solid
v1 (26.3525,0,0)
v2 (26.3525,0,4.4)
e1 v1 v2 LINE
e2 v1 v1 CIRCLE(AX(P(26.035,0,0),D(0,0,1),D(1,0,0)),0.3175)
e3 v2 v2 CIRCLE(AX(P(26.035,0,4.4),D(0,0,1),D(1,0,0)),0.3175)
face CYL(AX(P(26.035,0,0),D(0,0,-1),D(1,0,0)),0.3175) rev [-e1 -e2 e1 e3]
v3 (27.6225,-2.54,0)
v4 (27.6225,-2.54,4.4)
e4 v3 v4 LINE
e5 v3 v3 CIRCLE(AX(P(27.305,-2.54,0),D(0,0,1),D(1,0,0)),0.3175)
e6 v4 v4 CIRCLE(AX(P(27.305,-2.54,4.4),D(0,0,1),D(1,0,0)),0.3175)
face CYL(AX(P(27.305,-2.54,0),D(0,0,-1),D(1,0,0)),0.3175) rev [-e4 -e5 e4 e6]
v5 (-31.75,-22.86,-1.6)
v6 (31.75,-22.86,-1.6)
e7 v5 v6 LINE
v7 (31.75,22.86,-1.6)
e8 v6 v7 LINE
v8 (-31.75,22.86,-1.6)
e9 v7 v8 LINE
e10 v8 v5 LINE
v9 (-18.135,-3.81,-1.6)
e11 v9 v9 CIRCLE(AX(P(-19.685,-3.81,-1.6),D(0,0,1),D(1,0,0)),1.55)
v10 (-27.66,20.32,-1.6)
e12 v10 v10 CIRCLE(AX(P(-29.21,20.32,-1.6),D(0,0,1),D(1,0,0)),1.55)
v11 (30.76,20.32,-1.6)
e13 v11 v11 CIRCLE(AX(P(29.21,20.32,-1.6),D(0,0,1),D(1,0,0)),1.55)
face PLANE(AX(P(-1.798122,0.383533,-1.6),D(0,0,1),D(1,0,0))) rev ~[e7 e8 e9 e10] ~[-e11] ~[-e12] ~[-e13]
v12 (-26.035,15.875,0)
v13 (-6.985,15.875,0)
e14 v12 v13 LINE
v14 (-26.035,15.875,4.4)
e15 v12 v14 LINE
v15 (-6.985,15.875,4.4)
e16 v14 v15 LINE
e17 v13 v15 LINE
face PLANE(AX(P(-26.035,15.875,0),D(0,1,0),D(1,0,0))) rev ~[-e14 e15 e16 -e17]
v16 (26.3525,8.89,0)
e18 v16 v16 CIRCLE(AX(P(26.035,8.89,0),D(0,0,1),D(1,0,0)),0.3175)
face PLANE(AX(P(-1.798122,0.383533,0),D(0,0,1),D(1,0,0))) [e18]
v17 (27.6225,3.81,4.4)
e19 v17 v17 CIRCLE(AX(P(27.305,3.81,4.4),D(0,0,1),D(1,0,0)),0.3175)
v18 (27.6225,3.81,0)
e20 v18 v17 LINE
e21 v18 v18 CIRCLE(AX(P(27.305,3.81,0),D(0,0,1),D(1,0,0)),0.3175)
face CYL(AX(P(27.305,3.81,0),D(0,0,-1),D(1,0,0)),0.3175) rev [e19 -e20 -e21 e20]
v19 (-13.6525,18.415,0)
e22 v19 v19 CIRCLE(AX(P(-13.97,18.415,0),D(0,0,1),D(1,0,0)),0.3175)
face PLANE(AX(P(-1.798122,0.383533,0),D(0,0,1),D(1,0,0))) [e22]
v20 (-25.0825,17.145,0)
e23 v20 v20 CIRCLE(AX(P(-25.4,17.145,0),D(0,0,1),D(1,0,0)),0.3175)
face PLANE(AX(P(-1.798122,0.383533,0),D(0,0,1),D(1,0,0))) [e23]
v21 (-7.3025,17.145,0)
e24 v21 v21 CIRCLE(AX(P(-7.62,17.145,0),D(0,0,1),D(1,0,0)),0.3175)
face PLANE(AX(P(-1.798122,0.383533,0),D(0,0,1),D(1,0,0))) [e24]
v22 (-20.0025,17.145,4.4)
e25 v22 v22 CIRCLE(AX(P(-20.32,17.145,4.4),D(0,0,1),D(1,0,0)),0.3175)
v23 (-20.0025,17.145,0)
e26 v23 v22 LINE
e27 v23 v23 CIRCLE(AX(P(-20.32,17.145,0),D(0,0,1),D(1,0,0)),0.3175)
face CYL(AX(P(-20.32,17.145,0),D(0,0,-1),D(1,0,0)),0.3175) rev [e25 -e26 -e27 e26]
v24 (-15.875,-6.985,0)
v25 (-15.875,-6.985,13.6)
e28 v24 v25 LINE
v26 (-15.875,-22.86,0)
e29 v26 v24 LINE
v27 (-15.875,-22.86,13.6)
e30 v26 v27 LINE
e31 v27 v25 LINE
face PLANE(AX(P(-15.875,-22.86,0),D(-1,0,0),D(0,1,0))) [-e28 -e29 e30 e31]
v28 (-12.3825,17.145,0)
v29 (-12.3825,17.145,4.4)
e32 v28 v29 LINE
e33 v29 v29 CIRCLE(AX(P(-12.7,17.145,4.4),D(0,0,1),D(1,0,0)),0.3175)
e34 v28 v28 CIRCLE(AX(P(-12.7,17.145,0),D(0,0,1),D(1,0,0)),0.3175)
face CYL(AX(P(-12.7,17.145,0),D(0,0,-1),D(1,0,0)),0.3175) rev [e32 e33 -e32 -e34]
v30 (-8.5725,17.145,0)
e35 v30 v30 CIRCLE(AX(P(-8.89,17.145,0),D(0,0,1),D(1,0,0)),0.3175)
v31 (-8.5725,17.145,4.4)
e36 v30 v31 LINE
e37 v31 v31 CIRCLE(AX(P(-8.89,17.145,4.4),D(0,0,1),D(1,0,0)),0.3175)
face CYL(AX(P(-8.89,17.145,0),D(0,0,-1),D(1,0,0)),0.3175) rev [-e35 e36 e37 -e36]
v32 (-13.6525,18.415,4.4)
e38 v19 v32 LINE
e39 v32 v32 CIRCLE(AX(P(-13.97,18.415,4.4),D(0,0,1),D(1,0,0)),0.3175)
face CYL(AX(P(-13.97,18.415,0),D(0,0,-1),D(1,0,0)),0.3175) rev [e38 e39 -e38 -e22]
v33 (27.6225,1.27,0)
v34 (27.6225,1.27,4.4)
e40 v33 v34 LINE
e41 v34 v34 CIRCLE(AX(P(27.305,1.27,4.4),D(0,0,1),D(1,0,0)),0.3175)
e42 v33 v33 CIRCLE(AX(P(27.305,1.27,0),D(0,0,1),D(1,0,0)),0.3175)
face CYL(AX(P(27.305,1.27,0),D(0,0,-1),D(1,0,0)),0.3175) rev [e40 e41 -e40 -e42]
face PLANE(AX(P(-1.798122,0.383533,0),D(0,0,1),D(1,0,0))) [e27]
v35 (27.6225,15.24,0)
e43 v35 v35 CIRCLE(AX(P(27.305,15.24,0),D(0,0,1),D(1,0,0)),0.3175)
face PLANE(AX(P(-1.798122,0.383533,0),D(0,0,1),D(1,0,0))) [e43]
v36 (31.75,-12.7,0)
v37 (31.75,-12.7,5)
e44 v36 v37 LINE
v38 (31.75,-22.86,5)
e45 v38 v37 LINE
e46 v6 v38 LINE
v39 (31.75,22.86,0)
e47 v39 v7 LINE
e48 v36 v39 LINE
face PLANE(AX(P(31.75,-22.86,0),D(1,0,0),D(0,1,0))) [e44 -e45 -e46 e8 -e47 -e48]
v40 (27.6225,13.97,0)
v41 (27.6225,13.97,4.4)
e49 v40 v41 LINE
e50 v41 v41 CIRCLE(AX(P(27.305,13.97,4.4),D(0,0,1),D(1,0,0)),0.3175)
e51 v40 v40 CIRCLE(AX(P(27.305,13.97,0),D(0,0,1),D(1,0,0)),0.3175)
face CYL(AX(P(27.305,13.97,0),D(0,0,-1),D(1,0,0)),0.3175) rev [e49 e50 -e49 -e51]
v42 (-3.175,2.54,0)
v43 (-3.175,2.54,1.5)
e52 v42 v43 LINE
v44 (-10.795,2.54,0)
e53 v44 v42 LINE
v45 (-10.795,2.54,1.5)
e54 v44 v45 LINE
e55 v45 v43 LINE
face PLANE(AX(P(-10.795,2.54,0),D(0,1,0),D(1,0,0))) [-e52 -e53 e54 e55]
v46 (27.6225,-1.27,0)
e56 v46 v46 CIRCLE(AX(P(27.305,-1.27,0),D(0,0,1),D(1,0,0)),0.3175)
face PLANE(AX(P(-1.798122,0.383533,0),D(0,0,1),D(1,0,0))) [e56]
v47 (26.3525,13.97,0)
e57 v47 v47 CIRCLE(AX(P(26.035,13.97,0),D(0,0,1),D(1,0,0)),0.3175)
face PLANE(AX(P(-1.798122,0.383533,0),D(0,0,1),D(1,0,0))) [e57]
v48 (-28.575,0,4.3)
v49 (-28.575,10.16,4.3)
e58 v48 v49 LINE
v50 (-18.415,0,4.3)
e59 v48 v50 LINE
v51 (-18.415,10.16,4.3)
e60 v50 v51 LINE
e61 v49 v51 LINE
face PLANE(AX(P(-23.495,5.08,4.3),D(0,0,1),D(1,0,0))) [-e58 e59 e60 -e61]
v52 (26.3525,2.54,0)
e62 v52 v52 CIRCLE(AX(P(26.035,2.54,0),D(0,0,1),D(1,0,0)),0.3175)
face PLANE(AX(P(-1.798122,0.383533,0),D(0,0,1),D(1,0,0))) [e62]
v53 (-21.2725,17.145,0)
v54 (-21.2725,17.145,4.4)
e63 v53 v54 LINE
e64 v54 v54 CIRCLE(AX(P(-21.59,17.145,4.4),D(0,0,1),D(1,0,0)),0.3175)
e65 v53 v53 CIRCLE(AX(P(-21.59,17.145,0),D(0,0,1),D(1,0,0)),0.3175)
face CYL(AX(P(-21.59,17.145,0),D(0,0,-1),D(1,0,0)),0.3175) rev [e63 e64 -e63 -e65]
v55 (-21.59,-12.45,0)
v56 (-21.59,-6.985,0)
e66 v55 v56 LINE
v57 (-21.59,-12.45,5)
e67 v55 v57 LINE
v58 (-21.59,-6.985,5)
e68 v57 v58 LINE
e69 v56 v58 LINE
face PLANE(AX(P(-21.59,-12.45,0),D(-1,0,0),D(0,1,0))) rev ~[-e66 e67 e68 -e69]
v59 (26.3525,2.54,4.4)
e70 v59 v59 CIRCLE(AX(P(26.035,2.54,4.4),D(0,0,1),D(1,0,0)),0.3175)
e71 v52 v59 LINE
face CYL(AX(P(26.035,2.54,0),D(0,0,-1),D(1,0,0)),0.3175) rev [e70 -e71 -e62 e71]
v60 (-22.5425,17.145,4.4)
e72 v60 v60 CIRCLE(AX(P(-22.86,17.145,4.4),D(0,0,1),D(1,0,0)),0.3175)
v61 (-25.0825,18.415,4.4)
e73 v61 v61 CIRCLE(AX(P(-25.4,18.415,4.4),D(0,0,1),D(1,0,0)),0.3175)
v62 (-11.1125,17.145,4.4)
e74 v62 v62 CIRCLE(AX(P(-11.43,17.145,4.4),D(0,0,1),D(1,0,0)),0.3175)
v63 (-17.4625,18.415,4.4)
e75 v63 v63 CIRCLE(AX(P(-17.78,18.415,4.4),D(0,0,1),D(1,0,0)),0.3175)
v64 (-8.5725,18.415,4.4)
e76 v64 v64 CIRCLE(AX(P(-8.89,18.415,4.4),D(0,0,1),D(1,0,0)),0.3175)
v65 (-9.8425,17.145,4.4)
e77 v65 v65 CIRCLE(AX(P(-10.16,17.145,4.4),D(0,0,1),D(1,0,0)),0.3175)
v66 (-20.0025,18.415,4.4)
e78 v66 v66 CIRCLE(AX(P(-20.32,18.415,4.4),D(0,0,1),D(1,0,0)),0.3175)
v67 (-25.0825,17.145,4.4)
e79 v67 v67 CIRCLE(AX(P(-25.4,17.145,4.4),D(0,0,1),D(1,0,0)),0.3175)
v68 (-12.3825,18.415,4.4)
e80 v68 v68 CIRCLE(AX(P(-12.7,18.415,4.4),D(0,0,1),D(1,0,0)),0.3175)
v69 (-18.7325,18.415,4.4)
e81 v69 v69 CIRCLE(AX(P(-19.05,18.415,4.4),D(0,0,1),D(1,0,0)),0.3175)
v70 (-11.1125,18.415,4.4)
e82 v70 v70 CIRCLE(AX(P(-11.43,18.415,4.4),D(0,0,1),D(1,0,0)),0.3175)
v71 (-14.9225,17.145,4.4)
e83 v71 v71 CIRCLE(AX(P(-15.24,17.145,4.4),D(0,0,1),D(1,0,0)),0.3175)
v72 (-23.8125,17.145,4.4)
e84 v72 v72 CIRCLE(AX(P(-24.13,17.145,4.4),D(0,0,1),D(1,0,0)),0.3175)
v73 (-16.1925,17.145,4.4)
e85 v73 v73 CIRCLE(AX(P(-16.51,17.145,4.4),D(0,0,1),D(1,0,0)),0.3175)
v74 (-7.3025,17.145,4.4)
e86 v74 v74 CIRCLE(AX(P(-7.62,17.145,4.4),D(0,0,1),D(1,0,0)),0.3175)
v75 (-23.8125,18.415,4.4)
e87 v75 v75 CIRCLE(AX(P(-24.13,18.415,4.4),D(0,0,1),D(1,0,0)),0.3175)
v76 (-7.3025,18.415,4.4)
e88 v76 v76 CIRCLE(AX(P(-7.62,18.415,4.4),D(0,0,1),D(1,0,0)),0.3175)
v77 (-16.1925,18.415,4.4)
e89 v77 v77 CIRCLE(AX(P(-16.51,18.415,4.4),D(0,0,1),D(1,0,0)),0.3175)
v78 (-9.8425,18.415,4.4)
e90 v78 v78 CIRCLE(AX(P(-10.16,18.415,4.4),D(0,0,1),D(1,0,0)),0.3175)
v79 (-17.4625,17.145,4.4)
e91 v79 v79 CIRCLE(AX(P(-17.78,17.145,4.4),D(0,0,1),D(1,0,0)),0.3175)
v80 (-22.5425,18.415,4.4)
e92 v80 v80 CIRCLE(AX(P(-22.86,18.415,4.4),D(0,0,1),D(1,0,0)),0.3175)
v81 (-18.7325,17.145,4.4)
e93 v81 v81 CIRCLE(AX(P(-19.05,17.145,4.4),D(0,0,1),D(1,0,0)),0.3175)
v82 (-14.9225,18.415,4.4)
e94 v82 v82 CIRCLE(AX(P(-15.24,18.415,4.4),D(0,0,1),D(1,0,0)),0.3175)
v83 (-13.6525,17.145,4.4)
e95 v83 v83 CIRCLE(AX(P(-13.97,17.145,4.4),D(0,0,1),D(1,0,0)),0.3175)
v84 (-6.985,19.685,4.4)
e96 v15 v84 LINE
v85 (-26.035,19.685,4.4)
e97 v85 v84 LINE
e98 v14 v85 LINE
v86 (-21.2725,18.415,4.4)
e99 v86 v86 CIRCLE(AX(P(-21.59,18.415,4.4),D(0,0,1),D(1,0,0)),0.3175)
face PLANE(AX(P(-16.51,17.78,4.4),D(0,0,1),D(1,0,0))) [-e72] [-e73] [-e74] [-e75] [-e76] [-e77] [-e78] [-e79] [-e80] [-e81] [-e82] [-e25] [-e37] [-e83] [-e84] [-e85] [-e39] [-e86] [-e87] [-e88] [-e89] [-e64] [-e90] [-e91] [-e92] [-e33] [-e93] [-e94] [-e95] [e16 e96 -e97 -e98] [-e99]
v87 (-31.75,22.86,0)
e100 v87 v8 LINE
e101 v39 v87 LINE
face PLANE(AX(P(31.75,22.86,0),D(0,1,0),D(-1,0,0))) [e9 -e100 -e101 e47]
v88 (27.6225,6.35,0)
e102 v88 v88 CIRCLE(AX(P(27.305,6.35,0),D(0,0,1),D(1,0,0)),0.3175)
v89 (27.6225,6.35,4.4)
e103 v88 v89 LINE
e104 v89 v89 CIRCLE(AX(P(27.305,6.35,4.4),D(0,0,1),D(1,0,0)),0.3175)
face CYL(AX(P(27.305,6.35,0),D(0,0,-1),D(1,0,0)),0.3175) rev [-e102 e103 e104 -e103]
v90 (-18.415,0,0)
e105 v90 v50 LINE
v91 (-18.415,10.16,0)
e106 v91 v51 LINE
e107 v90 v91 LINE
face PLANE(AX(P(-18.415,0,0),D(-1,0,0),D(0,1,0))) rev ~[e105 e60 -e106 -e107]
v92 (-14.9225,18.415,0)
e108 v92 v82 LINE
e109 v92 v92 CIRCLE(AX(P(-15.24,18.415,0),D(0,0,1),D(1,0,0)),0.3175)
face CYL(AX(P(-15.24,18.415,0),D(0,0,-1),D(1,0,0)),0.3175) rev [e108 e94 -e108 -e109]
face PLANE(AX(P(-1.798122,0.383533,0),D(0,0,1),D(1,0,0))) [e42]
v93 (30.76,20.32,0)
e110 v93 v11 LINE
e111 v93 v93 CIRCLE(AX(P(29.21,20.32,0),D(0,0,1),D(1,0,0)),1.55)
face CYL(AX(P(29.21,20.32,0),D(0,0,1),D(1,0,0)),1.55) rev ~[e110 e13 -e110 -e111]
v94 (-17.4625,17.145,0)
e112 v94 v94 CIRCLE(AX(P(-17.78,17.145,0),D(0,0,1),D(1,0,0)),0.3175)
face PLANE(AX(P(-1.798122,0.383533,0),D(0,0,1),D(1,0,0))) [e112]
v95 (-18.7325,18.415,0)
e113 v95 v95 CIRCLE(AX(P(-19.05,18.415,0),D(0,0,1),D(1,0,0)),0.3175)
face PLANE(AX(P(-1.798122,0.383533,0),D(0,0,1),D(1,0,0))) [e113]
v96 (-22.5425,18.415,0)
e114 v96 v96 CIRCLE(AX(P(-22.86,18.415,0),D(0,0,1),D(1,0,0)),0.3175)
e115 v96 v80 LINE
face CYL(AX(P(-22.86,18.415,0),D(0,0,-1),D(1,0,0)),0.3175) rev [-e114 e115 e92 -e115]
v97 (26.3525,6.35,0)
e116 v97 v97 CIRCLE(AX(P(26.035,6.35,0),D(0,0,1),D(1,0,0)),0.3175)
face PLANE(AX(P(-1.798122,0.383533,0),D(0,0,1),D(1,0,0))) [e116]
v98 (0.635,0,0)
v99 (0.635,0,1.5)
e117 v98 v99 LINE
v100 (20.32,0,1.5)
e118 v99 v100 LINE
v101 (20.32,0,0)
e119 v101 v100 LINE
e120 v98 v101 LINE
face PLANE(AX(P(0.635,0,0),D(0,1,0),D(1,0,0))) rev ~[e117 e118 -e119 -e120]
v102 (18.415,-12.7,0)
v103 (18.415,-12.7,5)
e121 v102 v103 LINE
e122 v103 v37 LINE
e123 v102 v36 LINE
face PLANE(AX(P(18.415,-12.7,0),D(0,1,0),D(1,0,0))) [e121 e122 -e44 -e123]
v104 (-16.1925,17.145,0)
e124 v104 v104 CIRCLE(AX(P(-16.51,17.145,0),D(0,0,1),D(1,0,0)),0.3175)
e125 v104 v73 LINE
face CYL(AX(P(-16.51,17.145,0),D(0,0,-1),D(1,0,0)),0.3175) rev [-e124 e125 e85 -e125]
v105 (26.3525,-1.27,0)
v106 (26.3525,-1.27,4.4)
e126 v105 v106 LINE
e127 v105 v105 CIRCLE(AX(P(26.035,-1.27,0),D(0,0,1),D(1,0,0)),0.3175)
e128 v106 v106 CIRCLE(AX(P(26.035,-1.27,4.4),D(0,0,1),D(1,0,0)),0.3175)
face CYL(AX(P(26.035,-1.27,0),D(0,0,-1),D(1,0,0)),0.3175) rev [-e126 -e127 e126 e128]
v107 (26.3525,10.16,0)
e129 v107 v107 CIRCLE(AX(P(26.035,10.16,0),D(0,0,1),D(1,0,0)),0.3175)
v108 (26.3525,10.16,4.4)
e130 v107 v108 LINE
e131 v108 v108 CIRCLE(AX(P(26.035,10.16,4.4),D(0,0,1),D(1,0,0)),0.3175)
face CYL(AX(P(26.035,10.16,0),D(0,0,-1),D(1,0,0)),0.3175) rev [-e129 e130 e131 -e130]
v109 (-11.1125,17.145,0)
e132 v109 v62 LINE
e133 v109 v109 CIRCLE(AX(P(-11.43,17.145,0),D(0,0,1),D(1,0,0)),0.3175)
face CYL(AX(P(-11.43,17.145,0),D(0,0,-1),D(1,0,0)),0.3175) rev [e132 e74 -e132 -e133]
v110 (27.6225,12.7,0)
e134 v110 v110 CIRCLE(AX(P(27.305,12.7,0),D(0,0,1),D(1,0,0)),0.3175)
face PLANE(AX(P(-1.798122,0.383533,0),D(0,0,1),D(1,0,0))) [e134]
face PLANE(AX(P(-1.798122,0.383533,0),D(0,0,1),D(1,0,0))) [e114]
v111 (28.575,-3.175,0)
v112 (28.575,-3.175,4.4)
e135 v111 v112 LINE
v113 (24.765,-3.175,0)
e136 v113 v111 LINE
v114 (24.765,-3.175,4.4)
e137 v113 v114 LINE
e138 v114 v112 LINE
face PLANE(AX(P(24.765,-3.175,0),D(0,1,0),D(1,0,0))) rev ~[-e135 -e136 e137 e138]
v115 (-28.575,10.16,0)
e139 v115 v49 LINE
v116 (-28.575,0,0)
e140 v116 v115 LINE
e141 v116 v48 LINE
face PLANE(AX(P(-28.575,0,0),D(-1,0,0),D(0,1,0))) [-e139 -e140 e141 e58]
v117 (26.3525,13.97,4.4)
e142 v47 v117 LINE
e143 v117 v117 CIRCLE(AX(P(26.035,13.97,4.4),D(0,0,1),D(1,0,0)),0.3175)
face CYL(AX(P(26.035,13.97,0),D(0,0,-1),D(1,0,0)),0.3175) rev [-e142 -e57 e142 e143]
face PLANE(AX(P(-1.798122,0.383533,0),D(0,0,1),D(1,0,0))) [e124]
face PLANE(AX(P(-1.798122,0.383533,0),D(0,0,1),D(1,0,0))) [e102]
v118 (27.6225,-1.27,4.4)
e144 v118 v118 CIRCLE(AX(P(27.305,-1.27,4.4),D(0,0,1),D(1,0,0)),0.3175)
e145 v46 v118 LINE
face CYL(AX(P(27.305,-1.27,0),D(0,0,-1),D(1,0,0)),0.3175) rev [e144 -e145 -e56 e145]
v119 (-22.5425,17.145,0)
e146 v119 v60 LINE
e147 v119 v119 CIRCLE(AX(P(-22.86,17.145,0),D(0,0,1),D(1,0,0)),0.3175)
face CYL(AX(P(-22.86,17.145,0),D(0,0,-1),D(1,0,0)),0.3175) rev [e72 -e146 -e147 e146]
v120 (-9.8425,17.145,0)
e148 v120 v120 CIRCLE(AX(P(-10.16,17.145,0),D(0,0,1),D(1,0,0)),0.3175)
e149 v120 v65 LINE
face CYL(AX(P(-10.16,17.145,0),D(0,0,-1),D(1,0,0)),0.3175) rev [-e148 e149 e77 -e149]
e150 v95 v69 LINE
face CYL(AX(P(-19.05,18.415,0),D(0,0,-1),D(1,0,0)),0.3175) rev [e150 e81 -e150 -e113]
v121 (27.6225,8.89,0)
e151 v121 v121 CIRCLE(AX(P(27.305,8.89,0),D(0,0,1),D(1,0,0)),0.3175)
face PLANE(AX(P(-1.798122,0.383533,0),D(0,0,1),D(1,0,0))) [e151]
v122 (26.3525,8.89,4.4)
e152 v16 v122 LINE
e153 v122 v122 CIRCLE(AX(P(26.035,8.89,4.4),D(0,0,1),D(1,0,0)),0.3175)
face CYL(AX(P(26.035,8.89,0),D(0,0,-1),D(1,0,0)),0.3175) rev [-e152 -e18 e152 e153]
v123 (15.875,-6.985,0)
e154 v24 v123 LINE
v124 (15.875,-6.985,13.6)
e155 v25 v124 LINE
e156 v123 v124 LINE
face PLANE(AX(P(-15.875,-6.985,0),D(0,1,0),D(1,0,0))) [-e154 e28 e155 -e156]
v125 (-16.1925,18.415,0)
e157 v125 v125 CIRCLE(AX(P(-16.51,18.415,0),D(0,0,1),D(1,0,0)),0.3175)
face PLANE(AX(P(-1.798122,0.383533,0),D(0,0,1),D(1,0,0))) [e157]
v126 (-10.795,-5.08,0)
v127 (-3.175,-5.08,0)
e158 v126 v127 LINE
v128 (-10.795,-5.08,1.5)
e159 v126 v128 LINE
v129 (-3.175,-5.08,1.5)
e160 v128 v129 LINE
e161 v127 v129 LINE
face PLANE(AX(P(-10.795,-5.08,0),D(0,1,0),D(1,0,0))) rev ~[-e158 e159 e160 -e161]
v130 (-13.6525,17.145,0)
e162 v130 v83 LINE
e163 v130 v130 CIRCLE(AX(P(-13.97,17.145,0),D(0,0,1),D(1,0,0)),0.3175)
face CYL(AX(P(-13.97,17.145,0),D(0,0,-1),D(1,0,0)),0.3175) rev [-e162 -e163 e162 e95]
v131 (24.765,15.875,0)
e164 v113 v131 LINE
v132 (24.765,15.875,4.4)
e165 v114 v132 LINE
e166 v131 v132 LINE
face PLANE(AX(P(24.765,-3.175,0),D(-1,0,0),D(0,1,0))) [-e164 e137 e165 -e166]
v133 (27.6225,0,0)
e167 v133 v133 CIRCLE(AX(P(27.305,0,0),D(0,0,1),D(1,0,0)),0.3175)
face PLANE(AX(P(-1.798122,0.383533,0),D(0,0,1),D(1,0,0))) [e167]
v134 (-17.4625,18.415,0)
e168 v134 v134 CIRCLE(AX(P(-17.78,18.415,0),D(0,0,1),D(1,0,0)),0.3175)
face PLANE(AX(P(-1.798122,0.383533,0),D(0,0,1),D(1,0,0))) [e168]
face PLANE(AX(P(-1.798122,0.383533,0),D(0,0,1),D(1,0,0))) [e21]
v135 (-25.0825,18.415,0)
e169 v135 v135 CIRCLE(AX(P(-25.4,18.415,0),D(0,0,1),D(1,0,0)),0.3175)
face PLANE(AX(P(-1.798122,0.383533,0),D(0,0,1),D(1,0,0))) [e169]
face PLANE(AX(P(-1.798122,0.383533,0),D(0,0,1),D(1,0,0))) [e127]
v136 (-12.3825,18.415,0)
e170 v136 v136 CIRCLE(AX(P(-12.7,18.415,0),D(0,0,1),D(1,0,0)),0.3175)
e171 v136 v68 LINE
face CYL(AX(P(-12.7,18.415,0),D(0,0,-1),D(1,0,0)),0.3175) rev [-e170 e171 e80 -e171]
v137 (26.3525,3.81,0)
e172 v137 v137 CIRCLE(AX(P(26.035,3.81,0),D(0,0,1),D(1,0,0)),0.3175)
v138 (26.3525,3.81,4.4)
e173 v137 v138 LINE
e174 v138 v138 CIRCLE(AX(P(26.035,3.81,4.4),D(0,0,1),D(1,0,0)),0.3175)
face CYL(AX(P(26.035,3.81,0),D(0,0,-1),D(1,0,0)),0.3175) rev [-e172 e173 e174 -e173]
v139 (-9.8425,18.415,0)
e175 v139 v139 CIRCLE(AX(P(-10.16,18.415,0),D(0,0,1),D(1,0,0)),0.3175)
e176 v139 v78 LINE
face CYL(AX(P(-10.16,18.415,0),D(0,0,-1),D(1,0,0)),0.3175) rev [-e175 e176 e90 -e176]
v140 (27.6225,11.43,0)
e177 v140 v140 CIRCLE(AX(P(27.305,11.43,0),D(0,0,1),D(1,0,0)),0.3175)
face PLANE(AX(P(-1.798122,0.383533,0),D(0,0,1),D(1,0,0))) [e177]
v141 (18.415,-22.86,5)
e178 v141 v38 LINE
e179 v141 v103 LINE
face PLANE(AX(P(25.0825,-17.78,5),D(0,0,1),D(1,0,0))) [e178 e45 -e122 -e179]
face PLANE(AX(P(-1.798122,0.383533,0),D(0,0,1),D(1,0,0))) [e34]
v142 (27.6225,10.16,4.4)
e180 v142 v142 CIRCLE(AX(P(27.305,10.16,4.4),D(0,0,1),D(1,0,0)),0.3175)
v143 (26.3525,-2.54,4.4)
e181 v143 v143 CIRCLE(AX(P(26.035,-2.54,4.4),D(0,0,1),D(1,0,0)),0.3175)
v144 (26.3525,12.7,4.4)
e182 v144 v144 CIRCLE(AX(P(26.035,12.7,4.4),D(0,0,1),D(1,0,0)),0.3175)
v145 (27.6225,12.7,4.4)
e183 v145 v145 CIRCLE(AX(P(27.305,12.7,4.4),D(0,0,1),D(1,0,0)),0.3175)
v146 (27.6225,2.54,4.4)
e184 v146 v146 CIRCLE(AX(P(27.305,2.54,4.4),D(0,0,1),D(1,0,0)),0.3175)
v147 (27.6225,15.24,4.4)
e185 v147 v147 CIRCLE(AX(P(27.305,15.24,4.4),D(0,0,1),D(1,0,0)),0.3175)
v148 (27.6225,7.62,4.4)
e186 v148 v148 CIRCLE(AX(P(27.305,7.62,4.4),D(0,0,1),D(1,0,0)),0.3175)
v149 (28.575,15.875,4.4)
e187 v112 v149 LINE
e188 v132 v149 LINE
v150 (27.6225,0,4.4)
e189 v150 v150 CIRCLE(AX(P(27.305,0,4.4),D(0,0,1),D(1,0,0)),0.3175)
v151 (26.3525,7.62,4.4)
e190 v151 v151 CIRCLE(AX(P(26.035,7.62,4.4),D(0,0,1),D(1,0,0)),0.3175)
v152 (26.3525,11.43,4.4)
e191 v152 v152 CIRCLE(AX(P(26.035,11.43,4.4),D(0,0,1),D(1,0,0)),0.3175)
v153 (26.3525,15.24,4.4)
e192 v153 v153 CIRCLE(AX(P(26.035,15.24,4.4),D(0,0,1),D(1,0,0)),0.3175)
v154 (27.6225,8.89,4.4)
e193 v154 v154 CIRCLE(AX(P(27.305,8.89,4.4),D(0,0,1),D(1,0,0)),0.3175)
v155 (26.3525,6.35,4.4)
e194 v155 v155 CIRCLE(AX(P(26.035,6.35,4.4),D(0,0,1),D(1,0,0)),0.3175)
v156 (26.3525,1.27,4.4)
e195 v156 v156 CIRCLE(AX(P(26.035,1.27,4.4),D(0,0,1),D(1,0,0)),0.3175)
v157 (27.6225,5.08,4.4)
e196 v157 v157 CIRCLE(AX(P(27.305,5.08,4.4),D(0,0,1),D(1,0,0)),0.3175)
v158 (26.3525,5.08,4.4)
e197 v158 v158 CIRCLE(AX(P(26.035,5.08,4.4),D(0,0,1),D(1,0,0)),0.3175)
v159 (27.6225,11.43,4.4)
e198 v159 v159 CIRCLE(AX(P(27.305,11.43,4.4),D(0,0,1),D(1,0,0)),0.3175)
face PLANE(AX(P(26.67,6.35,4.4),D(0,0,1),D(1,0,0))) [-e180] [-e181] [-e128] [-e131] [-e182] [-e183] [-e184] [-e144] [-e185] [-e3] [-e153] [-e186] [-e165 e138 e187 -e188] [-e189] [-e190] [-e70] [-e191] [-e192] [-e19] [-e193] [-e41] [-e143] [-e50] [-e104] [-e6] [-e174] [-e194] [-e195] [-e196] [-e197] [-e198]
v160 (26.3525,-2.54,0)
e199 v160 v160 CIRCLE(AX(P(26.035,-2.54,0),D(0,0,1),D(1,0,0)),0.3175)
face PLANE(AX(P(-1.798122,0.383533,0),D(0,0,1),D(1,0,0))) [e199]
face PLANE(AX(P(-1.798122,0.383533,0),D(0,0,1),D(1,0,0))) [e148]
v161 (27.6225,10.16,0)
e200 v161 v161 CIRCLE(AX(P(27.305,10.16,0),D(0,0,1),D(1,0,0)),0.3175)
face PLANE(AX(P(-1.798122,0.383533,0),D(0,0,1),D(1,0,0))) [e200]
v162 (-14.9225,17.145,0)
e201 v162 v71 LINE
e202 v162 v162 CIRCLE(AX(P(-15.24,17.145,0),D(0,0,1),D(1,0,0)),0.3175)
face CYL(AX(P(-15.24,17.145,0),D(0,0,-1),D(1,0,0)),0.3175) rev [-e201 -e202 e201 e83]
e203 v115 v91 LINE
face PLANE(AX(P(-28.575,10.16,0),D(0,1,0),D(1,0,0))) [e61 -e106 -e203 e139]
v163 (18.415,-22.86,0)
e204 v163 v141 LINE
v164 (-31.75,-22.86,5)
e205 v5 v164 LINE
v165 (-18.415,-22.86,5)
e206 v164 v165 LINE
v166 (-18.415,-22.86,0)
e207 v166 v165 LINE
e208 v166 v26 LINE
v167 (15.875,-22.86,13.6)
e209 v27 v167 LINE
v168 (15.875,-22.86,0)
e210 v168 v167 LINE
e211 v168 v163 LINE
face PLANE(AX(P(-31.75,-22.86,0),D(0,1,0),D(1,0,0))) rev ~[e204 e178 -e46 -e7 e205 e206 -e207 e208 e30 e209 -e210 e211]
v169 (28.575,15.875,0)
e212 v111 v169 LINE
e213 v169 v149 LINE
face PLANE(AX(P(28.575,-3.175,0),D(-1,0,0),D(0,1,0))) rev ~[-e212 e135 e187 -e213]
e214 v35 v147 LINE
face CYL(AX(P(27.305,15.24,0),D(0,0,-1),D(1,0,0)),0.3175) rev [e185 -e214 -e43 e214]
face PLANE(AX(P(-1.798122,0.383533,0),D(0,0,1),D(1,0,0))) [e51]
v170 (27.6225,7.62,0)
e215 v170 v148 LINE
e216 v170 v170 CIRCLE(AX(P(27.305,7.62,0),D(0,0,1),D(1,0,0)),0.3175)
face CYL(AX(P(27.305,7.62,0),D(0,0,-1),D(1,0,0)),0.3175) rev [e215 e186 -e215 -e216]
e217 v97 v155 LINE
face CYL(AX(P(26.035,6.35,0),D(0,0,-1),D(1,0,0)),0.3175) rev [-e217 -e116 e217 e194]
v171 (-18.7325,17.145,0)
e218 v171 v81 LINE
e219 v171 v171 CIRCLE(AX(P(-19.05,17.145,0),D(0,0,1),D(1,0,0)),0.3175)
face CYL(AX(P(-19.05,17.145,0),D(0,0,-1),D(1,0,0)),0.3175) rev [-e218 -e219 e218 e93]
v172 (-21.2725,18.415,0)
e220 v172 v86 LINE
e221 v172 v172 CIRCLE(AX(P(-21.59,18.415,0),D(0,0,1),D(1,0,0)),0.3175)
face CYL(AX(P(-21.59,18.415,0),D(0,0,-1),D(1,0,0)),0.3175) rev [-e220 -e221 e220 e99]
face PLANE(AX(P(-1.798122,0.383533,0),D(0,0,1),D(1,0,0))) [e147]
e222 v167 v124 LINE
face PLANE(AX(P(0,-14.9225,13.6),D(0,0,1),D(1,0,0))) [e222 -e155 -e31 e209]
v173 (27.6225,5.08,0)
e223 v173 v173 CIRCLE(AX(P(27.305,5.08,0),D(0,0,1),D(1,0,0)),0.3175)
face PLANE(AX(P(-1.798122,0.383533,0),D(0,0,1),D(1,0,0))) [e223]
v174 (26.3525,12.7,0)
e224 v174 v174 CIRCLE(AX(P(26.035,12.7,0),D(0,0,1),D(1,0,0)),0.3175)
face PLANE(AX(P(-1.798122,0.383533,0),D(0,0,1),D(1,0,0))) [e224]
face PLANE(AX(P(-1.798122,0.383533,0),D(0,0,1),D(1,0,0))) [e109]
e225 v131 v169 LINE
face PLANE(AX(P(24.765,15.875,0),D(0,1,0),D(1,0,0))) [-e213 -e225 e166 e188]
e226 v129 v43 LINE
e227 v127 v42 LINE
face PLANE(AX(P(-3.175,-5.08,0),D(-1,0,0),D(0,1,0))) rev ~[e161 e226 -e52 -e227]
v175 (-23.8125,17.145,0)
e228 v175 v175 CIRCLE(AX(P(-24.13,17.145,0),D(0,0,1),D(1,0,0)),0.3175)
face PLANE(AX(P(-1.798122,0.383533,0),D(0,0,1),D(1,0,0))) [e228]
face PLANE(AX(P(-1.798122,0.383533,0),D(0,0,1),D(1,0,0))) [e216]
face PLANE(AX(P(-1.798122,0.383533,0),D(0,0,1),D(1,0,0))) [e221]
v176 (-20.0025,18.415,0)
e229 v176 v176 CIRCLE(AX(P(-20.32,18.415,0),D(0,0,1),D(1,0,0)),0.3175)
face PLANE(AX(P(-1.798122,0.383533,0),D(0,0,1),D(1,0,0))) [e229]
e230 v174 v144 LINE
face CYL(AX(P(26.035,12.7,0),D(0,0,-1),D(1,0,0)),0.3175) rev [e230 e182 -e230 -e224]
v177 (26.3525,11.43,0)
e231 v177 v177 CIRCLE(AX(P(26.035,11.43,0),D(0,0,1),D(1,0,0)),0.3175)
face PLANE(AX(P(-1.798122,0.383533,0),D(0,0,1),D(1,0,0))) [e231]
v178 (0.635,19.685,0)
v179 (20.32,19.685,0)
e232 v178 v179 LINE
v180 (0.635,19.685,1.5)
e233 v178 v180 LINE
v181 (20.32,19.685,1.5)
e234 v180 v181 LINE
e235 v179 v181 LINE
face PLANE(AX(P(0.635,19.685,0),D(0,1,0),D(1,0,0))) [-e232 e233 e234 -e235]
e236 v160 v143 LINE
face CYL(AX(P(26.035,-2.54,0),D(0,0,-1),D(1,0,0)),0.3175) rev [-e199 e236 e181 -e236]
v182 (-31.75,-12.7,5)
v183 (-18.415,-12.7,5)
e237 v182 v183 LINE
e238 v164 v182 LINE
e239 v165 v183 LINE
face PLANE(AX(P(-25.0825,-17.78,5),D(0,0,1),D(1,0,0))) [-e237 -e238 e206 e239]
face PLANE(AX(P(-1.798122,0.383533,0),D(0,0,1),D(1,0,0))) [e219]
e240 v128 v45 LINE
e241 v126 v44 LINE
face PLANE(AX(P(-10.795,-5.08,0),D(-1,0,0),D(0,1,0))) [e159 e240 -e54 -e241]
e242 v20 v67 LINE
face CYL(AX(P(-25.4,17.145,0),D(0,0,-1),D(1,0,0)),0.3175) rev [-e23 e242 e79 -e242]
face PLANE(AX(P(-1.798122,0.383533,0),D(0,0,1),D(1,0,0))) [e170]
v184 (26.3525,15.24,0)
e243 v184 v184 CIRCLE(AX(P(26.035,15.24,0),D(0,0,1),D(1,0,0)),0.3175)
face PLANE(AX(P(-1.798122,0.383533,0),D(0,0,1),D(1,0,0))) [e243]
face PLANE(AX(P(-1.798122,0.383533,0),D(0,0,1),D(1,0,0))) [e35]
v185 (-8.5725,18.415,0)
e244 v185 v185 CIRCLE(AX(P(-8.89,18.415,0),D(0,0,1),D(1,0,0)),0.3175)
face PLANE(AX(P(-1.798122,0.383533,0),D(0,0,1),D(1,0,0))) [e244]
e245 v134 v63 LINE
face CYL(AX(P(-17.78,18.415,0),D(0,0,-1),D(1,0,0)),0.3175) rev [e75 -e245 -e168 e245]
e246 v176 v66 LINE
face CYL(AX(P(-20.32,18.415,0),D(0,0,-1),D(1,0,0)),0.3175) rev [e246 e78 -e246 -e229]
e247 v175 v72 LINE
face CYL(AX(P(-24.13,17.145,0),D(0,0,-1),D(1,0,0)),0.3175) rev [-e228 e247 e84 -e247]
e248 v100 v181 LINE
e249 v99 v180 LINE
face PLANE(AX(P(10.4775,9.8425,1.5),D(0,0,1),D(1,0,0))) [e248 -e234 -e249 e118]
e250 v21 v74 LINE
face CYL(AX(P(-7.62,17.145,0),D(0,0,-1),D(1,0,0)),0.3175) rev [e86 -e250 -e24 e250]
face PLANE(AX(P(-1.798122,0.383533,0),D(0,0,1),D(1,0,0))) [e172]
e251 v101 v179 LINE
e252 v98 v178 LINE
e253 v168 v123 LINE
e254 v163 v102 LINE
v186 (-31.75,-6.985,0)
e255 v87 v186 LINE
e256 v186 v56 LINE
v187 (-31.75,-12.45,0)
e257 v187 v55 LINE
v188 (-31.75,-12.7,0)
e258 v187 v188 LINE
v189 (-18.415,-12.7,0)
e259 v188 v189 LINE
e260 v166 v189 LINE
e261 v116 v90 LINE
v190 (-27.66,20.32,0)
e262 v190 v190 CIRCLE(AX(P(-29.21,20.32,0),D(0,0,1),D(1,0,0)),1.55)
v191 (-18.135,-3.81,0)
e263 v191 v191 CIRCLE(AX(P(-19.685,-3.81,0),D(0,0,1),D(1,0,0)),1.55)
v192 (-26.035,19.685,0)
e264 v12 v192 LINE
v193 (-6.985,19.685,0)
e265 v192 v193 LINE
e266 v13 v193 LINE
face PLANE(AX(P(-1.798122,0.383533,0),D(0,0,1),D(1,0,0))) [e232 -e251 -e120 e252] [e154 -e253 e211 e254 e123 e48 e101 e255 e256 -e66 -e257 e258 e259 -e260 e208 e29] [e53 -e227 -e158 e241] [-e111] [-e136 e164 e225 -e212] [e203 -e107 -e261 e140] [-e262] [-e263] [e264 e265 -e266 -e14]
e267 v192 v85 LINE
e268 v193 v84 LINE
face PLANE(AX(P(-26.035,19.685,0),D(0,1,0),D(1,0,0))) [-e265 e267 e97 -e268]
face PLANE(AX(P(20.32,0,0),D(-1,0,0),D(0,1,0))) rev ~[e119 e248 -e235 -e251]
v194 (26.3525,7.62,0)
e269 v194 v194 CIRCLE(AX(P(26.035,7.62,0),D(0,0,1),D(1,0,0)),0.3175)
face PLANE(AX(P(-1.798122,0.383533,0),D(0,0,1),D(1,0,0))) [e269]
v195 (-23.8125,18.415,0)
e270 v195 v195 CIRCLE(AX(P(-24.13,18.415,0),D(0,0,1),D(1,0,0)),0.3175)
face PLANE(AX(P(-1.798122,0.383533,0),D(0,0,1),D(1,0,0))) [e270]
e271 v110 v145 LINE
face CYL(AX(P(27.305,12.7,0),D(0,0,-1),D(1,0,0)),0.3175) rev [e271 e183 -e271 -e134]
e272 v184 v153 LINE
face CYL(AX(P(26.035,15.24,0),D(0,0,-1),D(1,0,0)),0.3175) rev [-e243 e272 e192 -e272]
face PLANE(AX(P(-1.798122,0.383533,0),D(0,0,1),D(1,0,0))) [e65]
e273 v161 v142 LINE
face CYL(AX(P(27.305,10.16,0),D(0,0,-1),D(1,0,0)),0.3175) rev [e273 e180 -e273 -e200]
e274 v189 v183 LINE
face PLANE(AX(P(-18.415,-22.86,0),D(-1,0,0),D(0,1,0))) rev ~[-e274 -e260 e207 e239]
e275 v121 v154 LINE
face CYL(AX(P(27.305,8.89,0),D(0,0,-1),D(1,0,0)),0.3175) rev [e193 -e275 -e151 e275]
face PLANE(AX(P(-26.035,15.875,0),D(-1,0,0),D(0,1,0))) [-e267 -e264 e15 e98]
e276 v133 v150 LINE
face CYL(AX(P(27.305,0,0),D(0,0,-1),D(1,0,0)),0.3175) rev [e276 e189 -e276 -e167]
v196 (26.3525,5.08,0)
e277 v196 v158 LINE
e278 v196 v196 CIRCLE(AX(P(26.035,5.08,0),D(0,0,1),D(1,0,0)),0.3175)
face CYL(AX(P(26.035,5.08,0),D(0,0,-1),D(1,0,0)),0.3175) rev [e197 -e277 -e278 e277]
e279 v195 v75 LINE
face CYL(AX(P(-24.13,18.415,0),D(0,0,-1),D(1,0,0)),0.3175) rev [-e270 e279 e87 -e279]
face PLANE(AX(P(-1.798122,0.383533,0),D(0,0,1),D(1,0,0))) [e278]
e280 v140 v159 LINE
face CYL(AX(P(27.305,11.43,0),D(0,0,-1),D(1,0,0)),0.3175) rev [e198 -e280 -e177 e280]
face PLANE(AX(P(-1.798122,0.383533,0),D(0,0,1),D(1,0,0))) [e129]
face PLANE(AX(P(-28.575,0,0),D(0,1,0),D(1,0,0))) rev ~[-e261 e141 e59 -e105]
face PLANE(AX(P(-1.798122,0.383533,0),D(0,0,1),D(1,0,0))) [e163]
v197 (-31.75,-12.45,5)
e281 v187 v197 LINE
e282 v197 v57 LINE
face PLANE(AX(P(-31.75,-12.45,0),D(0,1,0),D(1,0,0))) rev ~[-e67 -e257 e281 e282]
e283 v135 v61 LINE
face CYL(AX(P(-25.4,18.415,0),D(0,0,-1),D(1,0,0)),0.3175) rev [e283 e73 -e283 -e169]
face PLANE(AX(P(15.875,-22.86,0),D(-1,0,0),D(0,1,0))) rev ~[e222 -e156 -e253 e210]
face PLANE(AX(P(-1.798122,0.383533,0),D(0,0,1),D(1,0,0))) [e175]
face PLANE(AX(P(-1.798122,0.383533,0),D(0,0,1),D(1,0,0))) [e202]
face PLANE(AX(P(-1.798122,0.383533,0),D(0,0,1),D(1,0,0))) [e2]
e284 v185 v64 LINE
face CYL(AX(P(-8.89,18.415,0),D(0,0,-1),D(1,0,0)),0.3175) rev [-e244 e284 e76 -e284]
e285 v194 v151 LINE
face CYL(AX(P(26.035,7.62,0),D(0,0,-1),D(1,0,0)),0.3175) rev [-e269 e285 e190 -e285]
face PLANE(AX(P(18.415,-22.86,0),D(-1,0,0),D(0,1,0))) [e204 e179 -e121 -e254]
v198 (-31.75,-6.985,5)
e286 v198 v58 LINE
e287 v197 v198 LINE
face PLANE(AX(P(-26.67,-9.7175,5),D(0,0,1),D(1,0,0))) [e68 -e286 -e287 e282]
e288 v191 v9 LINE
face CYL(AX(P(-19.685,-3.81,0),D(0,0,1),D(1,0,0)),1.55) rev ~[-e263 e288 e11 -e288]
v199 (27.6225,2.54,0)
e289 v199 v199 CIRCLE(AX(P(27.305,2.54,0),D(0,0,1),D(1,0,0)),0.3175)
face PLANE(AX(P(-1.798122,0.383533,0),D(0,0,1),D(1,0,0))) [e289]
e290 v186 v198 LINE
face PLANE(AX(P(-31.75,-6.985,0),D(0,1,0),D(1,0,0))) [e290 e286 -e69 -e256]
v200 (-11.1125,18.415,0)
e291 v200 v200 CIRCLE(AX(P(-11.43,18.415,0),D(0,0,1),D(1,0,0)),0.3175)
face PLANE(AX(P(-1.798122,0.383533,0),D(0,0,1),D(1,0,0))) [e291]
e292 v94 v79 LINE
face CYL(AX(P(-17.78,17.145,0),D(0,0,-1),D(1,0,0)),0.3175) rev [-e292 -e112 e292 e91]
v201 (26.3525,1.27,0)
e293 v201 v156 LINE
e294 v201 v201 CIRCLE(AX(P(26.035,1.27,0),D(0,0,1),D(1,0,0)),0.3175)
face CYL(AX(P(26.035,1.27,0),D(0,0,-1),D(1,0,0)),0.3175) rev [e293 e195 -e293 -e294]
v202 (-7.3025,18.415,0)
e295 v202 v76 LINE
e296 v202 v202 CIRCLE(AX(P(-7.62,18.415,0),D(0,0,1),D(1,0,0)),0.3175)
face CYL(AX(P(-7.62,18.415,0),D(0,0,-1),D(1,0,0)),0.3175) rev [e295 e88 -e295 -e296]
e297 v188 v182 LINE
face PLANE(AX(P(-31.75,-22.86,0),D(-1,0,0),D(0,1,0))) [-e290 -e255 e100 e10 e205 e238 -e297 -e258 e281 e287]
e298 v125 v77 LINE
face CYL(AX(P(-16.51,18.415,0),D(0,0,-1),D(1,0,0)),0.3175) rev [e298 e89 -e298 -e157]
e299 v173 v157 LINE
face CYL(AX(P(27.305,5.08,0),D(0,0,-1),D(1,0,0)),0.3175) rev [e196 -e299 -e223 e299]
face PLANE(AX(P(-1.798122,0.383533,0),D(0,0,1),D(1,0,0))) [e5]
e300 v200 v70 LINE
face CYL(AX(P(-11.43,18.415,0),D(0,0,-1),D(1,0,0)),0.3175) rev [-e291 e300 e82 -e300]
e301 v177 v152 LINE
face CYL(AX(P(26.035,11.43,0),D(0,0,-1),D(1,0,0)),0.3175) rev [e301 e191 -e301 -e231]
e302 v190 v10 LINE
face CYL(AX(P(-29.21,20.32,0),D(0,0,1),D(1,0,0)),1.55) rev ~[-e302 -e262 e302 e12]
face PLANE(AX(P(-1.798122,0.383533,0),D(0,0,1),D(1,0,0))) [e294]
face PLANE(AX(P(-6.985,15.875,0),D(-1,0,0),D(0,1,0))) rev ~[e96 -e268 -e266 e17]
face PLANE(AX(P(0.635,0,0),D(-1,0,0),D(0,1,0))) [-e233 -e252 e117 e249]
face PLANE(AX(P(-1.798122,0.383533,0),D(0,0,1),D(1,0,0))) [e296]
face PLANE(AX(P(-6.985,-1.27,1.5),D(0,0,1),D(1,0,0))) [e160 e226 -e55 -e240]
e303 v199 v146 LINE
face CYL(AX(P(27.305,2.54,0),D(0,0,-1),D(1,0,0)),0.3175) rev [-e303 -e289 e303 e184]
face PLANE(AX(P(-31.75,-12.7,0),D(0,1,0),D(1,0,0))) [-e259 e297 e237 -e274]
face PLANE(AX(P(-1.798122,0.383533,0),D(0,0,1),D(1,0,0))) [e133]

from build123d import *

# Parameters (mm, degrees)
F0_R     = 1.55
F0_W     = 7.62
F0_H     = 7.62
F0_W_2   = 10.16
F0_H_2   = 10.16
F0_W_3   = 19.05
F0_H_3   = 3.81
F0_W_4   = 19.685
F0_H_4   = 19.685
F0_W_5   = 3.81
F0_H_5   = 19.05
F0_W_6   = 31.75
F0_H_6   = 15.875
F0_W_7   = 13.335
F0_R_2   = 0.3175
F0_H_7   = 5.465
F1_DEPTH = 1.6
F2_DEPTH = 4.4
F3_DEPTH = 1.5
F4_DEPTH = 4.3
F5_DEPTH = 5
F6_DEPTH = 13.6


with BuildPart() as f1:
    # F0 (on Top) → F1 (new body)
    with BuildSketch(Plane.XY):
        Polygon((31.75, -12.7), (31.75, 22.86), (-31.75, 22.86), (-31.75, -6.985), (-21.59, -6.985), (-21.59, -12.45), (-31.75, -12.45), (-31.75, -12.7), (-18.415, -12.7), (-18.415, -22.86), (-15.875, -22.86), (-15.875, -6.985), (15.875, -6.985), (15.875, -22.86), (18.415, -22.86), (18.415, -12.7), align=None)
        with Locations((-19.685, -3.81)):
            Circle(F0_R, mode=Mode.SUBTRACT)
        with Locations((-6.985, -1.27)):
            Rectangle(F0_W, F0_H, mode=Mode.SUBTRACT)
        with Locations((-23.495, 5.08)):
            Rectangle(F0_W_2, F0_H_2, mode=Mode.SUBTRACT)
        with Locations((-29.21, 20.32)):
            Circle(F0_R, mode=Mode.SUBTRACT)
        with Locations((-16.51, 17.78)):
            Rectangle(F0_W_3, F0_H_3, mode=Mode.SUBTRACT)
        with Locations((10.4775, 9.8425)):
            Rectangle(F0_W_4, F0_H_4, mode=Mode.SUBTRACT)
        with Locations((26.67, 6.35)):
            Rectangle(F0_W_5, F0_H_5, mode=Mode.SUBTRACT)
        with Locations((29.21, 20.32)):
            Circle(F0_R, mode=Mode.SUBTRACT)
        with Locations((0, -14.9225)):
            Rectangle(F0_W_6, F0_H_6)
        with Locations((10.4775, 9.8425)):
            Rectangle(F0_W_4, F0_H_4)
        with Locations((-25.0825, -17.78)):
            Rectangle(F0_W_7, F0_H_2)
        with Locations((25.0825, -17.78)):
            Rectangle(F0_W_7, F0_H_2)
        with Locations((-23.495, 5.08)):
            Rectangle(F0_W_2, F0_H_2)
        with Locations((26.67, 6.35)):
            Rectangle(F0_W_5, F0_H_5)
        with Locations((26.035, -2.54)):
            Circle(F0_R_2, mode=Mode.SUBTRACT)
        with Locations((27.305, -2.54)):
            Circle(F0_R_2, mode=Mode.SUBTRACT)
        with Locations((26.035, -1.27)):
            Circle(F0_R_2, mode=Mode.SUBTRACT)
        with Locations((27.305, -1.27)):
            Circle(F0_R_2, mode=Mode.SUBTRACT)
        with Locations((26.035, 0)):
            Circle(F0_R_2, mode=Mode.SUBTRACT)
        with Locations((27.305, 0)):
            Circle(F0_R_2, mode=Mode.SUBTRACT)
        with Locations((26.035, 1.27)):
            Circle(F0_R_2, mode=Mode.SUBTRACT)
        with Locations((27.305, 1.27)):
            Circle(F0_R_2, mode=Mode.SUBTRACT)
        with Locations((26.035, 2.54)):
            Circle(F0_R_2, mode=Mode.SUBTRACT)
        with Locations((27.305, 2.54)):
            Circle(F0_R_2, mode=Mode.SUBTRACT)
        with Locations((26.035, 3.81)):
            Circle(F0_R_2, mode=Mode.SUBTRACT)
        with Locations((27.305, 3.81)):
            Circle(F0_R_2, mode=Mode.SUBTRACT)
        with Locations((26.035, 5.08)):
            Circle(F0_R_2, mode=Mode.SUBTRACT)
        with Locations((27.305, 5.08)):
            Circle(F0_R_2, mode=Mode.SUBTRACT)
        with Locations((26.035, 6.35)):
            Circle(F0_R_2, mode=Mode.SUBTRACT)
        with Locations((27.305, 6.35)):
            Circle(F0_R_2, mode=Mode.SUBTRACT)
        with Locations((26.035, 7.62)):
            Circle(F0_R_2, mode=Mode.SUBTRACT)
        with Locations((27.305, 7.62)):
            Circle(F0_R_2, mode=Mode.SUBTRACT)
        with Locations((26.035, 8.89)):
            Circle(F0_R_2, mode=Mode.SUBTRACT)
        with Locations((27.305, 8.89)):
            Circle(F0_R_2, mode=Mode.SUBTRACT)
        with Locations((26.035, 10.16)):
            Circle(F0_R_2, mode=Mode.SUBTRACT)
        with Locations((27.305, 10.16)):
            Circle(F0_R_2, mode=Mode.SUBTRACT)
        with Locations((26.035, 11.43)):
            Circle(F0_R_2, mode=Mode.SUBTRACT)
        with Locations((27.305, 11.43)):
            Circle(F0_R_2, mode=Mode.SUBTRACT)
        with Locations((26.035, 12.7)):
            Circle(F0_R_2, mode=Mode.SUBTRACT)
        with Locations((27.305, 12.7)):
            Circle(F0_R_2, mode=Mode.SUBTRACT)
        with Locations((26.035, 13.97)):
            Circle(F0_R_2, mode=Mode.SUBTRACT)
        with Locations((27.305, 13.97)):
            Circle(F0_R_2, mode=Mode.SUBTRACT)
        with Locations((26.035, 15.24)):
            Circle(F0_R_2, mode=Mode.SUBTRACT)
        with Locations((27.305, 15.24)):
            Circle(F0_R_2, mode=Mode.SUBTRACT)
        with Locations((-16.51, 17.78)):
            Rectangle(F0_W_3, F0_H_3)
        with Locations((-25.4, 17.145)):
            Circle(F0_R_2, mode=Mode.SUBTRACT)
        with Locations((-24.13, 17.145)):
            Circle(F0_R_2, mode=Mode.SUBTRACT)
        with Locations((-25.4, 18.415)):
            Circle(F0_R_2, mode=Mode.SUBTRACT)
        with Locations((-24.13, 18.415)):
            Circle(F0_R_2, mode=Mode.SUBTRACT)
        with Locations((-22.86, 17.145)):
            Circle(F0_R_2, mode=Mode.SUBTRACT)
        with Locations((-22.86, 18.415)):
            Circle(F0_R_2, mode=Mode.SUBTRACT)
        with Locations((-21.59, 17.145)):
            Circle(F0_R_2, mode=Mode.SUBTRACT)
        with Locations((-20.32, 17.145)):
            Circle(F0_R_2, mode=Mode.SUBTRACT)
        with Locations((-21.59, 18.415)):
            Circle(F0_R_2, mode=Mode.SUBTRACT)
        with Locations((-20.32, 18.415)):
            Circle(F0_R_2, mode=Mode.SUBTRACT)
        with Locations((-19.05, 17.145)):
            Circle(F0_R_2, mode=Mode.SUBTRACT)
        with Locations((-19.05, 18.415)):
            Circle(F0_R_2, mode=Mode.SUBTRACT)
        with Locations((-17.78, 17.145)):
            Circle(F0_R_2, mode=Mode.SUBTRACT)
        with Locations((-16.51, 17.145)):
            Circle(F0_R_2, mode=Mode.SUBTRACT)
        with Locations((-17.78, 18.415)):
            Circle(F0_R_2, mode=Mode.SUBTRACT)
        with Locations((-16.51, 18.415)):
            Circle(F0_R_2, mode=Mode.SUBTRACT)
        with Locations((-15.24, 17.145)):
            Circle(F0_R_2, mode=Mode.SUBTRACT)
        with Locations((-13.97, 17.145)):
            Circle(F0_R_2, mode=Mode.SUBTRACT)
        with Locations((-15.24, 18.415)):
            Circle(F0_R_2, mode=Mode.SUBTRACT)
        with Locations((-13.97, 18.415)):
            Circle(F0_R_2, mode=Mode.SUBTRACT)
        with Locations((-12.7, 17.145)):
            Circle(F0_R_2, mode=Mode.SUBTRACT)
        with Locations((-12.7, 18.415)):
            Circle(F0_R_2, mode=Mode.SUBTRACT)
        with Locations((-11.43, 17.145)):
            Circle(F0_R_2, mode=Mode.SUBTRACT)
        with Locations((-10.16, 17.145)):
            Circle(F0_R_2, mode=Mode.SUBTRACT)
        with Locations((-11.43, 18.415)):
            Circle(F0_R_2, mode=Mode.SUBTRACT)
        with Locations((-10.16, 18.415)):
            Circle(F0_R_2, mode=Mode.SUBTRACT)
        with Locations((-8.89, 17.145)):
            Circle(F0_R_2, mode=Mode.SUBTRACT)
        with Locations((-8.89, 18.415)):
            Circle(F0_R_2, mode=Mode.SUBTRACT)
        with Locations((-7.62, 17.145)):
            Circle(F0_R_2, mode=Mode.SUBTRACT)
        with Locations((-7.62, 18.415)):
            Circle(F0_R_2, mode=Mode.SUBTRACT)
        with Locations((-6.985, -1.27)):
            Rectangle(F0_W, F0_H)
        with Locations((-26.67, -9.7175)):
            Rectangle(F0_W_2, F0_H_7)
        with Locations((27.305, 11.43)):
            Circle(F0_R_2)
        with Locations((27.305, 5.08)):
            Circle(F0_R_2)
        with Locations((26.035, 7.62)):
            Circle(F0_R_2)
        with Locations((26.035, 11.43)):
            Circle(F0_R_2)
        with Locations((-12.7, 18.415)):
            Circle(F0_R_2)
        with Locations((-22.86, 17.145)):
            Circle(F0_R_2)
        with Locations((26.035, 6.35)):
            Circle(F0_R_2)
        with Locations((-7.62, 18.415)):
            Circle(F0_R_2)
        with Locations((26.035, 5.08)):
            Circle(F0_R_2)
        with Locations((-10.16, 18.415)):
            Circle(F0_R_2)
        with Locations((-17.78, 17.145)):
            Circle(F0_R_2)
        with Locations((-21.59, 18.415)):
            Circle(F0_R_2)
        with Locations((-7.62, 17.145)):
            Circle(F0_R_2)
        with Locations((-16.51, 17.145)):
            Circle(F0_R_2)
        with Locations((-8.89, 18.415)):
            Circle(F0_R_2)
        with Locations((26.035, 0)):
            Circle(F0_R_2)
        with Locations((27.305, 12.7)):
            Circle(F0_R_2)
        with Locations((-19.05, 17.145)):
            Circle(F0_R_2)
        with Locations((27.305, 10.16)):
            Circle(F0_R_2)
        with Locations((26.035, 12.7)):
            Circle(F0_R_2)
        with Locations((26.035, 1.27)):
            Circle(F0_R_2)
        with Locations((-11.43, 18.415)):
            Circle(F0_R_2)
        with Locations((26.035, 13.97)):
            Circle(F0_R_2)
        with Locations((-22.86, 18.415)):
            Circle(F0_R_2)
        with Locations((26.035, 10.16)):
            Circle(F0_R_2)
        with Locations((-21.59, 17.145)):
            Circle(F0_R_2)
        with Locations((27.305, 1.27)):
            Circle(F0_R_2)
        with Locations((27.305, 13.97)):
            Circle(F0_R_2)
        with Locations((-17.78, 18.415)):
            Circle(F0_R_2)
        with Locations((26.035, 15.24)):
            Circle(F0_R_2)
        with Locations((27.305, 0)):
            Circle(F0_R_2)
        with Locations((-20.32, 17.145)):
            Circle(F0_R_2)
        with Locations((-19.05, 18.415)):
            Circle(F0_R_2)
        with Locations((27.305, 8.89)):
            Circle(F0_R_2)
        with Locations((26.035, 3.81)):
            Circle(F0_R_2)
        with Locations((-16.51, 18.415)):
            Circle(F0_R_2)
        with Locations((26.035, 8.89)):
            Circle(F0_R_2)
        with Locations((27.305, 2.54)):
            Circle(F0_R_2)
        with Locations((-8.89, 17.145)):
            Circle(F0_R_2)
        with Locations((26.035, 2.54)):
            Circle(F0_R_2)
        with Locations((-10.16, 17.145)):
            Circle(F0_R_2)
        with Locations((27.305, 6.35)):
            Circle(F0_R_2)
        with Locations((-15.24, 17.145)):
            Circle(F0_R_2)
        with Locations((-13.97, 17.145)):
            Circle(F0_R_2)
        with Locations((27.305, 7.62)):
            Circle(F0_R_2)
        with Locations((-11.43, 17.145)):
            Circle(F0_R_2)
        with Locations((-13.97, 18.415)):
            Circle(F0_R_2)
        with Locations((-12.7, 17.145)):
            Circle(F0_R_2)
        with Locations((-20.32, 18.415)):
            Circle(F0_R_2)
        with Locations((27.305, 3.81)):
            Circle(F0_R_2)
        with Locations((-15.24, 18.415)):
            Circle(F0_R_2)
        with Locations((27.305, 15.24)):
            Circle(F0_R_2)
        with Locations((26.035, -1.27)):
            Circle(F0_R_2)
        with Locations((27.305, -1.27)):
            Circle(F0_R_2)
        with Locations((-24.13, 17.145)):
            Circle(F0_R_2)
        with Locations((-24.13, 18.415)):
            Circle(F0_R_2)
        with Locations((-25.4, 17.145)):
            Circle(F0_R_2)
        with Locations((26.035, -2.54)):
            Circle(F0_R_2)
        with Locations((-25.4, 18.415)):
            Circle(F0_R_2)
        with Locations((27.305, -2.54)):
            Circle(F0_R_2)
    extrude(amount=-F1_DEPTH)

    # F0 (on Top) → F2 (join)
    with BuildSketch(Plane.XY):
        with Locations((-16.51, 17.78)):
            Rectangle(F0_W_3, F0_H_3)
        with Locations((-25.4, 17.145)):
            Circle(F0_R_2, mode=Mode.SUBTRACT)
        with Locations((-24.13, 17.145)):
            Circle(F0_R_2, mode=Mode.SUBTRACT)
        with Locations((-25.4, 18.415)):
            Circle(F0_R_2, mode=Mode.SUBTRACT)
        with Locations((-24.13, 18.415)):
            Circle(F0_R_2, mode=Mode.SUBTRACT)
        with Locations((-22.86, 17.145)):
            Circle(F0_R_2, mode=Mode.SUBTRACT)
        with Locations((-22.86, 18.415)):
            Circle(F0_R_2, mode=Mode.SUBTRACT)
        with Locations((-21.59, 17.145)):
            Circle(F0_R_2, mode=Mode.SUBTRACT)
        with Locations((-20.32, 17.145)):
            Circle(F0_R_2, mode=Mode.SUBTRACT)
        with Locations((-21.59, 18.415)):
            Circle(F0_R_2, mode=Mode.SUBTRACT)
        with Locations((-20.32, 18.415)):
            Circle(F0_R_2, mode=Mode.SUBTRACT)
        with Locations((-19.05, 17.145)):
            Circle(F0_R_2, mode=Mode.SUBTRACT)
        with Locations((-19.05, 18.415)):
            Circle(F0_R_2, mode=Mode.SUBTRACT)
        with Locations((-17.78, 17.145)):
            Circle(F0_R_2, mode=Mode.SUBTRACT)
        with Locations((-16.51, 17.145)):
            Circle(F0_R_2, mode=Mode.SUBTRACT)
        with Locations((-17.78, 18.415)):
            Circle(F0_R_2, mode=Mode.SUBTRACT)
        with Locations((-16.51, 18.415)):
            Circle(F0_R_2, mode=Mode.SUBTRACT)
        with Locations((-15.24, 17.145)):
            Circle(F0_R_2, mode=Mode.SUBTRACT)
        with Locations((-13.97, 17.145)):
            Circle(F0_R_2, mode=Mode.SUBTRACT)
        with Locations((-15.24, 18.415)):
            Circle(F0_R_2, mode=Mode.SUBTRACT)
        with Locations((-13.97, 18.415)):
            Circle(F0_R_2, mode=Mode.SUBTRACT)
        with Locations((-12.7, 17.145)):
            Circle(F0_R_2, mode=Mode.SUBTRACT)
        with Locations((-12.7, 18.415)):
            Circle(F0_R_2, mode=Mode.SUBTRACT)
        with Locations((-11.43, 17.145)):
            Circle(F0_R_2, mode=Mode.SUBTRACT)
        with Locations((-10.16, 17.145)):
            Circle(F0_R_2, mode=Mode.SUBTRACT)
        with Locations((-11.43, 18.415)):
            Circle(F0_R_2, mode=Mode.SUBTRACT)
        with Locations((-10.16, 18.415)):
            Circle(F0_R_2, mode=Mode.SUBTRACT)
        with Locations((-8.89, 17.145)):
            Circle(F0_R_2, mode=Mode.SUBTRACT)
        with Locations((-8.89, 18.415)):
            Circle(F0_R_2, mode=Mode.SUBTRACT)
        with Locations((-7.62, 17.145)):
            Circle(F0_R_2, mode=Mode.SUBTRACT)
        with Locations((-7.62, 18.415)):
            Circle(F0_R_2, mode=Mode.SUBTRACT)
        with Locations((26.67, 6.35)):
            Rectangle(F0_W_5, F0_H_5)
        with Locations((26.035, -2.54)):
            Circle(F0_R_2, mode=Mode.SUBTRACT)
        with Locations((27.305, -2.54)):
            Circle(F0_R_2, mode=Mode.SUBTRACT)
        with Locations((26.035, -1.27)):
            Circle(F0_R_2, mode=Mode.SUBTRACT)
        with Locations((27.305, -1.27)):
            Circle(F0_R_2, mode=Mode.SUBTRACT)
        with Locations((26.035, 0)):
            Circle(F0_R_2, mode=Mode.SUBTRACT)
        with Locations((27.305, 0)):
            Circle(F0_R_2, mode=Mode.SUBTRACT)
        with Locations((26.035, 1.27)):
            Circle(F0_R_2, mode=Mode.SUBTRACT)
        with Locations((27.305, 1.27)):
            Circle(F0_R_2, mode=Mode.SUBTRACT)
        with Locations((26.035, 2.54)):
            Circle(F0_R_2, mode=Mode.SUBTRACT)
        with Locations((27.305, 2.54)):
            Circle(F0_R_2, mode=Mode.SUBTRACT)
        with Locations((26.035, 3.81)):
            Circle(F0_R_2, mode=Mode.SUBTRACT)
        with Locations((27.305, 3.81)):
            Circle(F0_R_2, mode=Mode.SUBTRACT)
        with Locations((26.035, 5.08)):
            Circle(F0_R_2, mode=Mode.SUBTRACT)
        with Locations((27.305, 5.08)):
            Circle(F0_R_2, mode=Mode.SUBTRACT)
        with Locations((26.035, 6.35)):
            Circle(F0_R_2, mode=Mode.SUBTRACT)
        with Locations((27.305, 6.35)):
            Circle(F0_R_2, mode=Mode.SUBTRACT)
        with Locations((26.035, 7.62)):
            Circle(F0_R_2, mode=Mode.SUBTRACT)
        with Locations((27.305, 7.62)):
            Circle(F0_R_2, mode=Mode.SUBTRACT)
        with Locations((26.035, 8.89)):
            Circle(F0_R_2, mode=Mode.SUBTRACT)
        with Locations((27.305, 8.89)):
            Circle(F0_R_2, mode=Mode.SUBTRACT)
        with Locations((26.035, 10.16)):
            Circle(F0_R_2, mode=Mode.SUBTRACT)
        with Locations((27.305, 10.16)):
            Circle(F0_R_2, mode=Mode.SUBTRACT)
        with Locations((26.035, 11.43)):
            Circle(F0_R_2, mode=Mode.SUBTRACT)
        with Locations((27.305, 11.43)):
            Circle(F0_R_2, mode=Mode.SUBTRACT)
        with Locations((26.035, 12.7)):
            Circle(F0_R_2, mode=Mode.SUBTRACT)
        with Locations((27.305, 12.7)):
            Circle(F0_R_2, mode=Mode.SUBTRACT)
        with Locations((26.035, 13.97)):
            Circle(F0_R_2, mode=Mode.SUBTRACT)
        with Locations((27.305, 13.97)):
            Circle(F0_R_2, mode=Mode.SUBTRACT)
        with Locations((26.035, 15.24)):
            Circle(F0_R_2, mode=Mode.SUBTRACT)
        with Locations((27.305, 15.24)):
            Circle(F0_R_2, mode=Mode.SUBTRACT)
    extrude(amount=F2_DEPTH)

    # F0 (on Top) → F3 (join)
    with BuildSketch(Plane.XY):
        with Locations((10.4775, 9.8425)):
            Rectangle(F0_W_4, F0_H_4)
        with Locations((-6.985, -1.27)):
            Rectangle(F0_W, F0_H)
    extrude(amount=F3_DEPTH)

    # F0 (on Top) → F4 (join)
    with BuildSketch(Plane.XY):
        with Locations((-23.495, 5.08)):
            Rectangle(F0_W_2, F0_H_2)
    extrude(amount=F4_DEPTH)

    # F0 (on Top) → F5 (join)
    with BuildSketch(Plane.XY):
        with Locations((-26.67, -9.7175)):
            Rectangle(F0_W_2, F0_H_7)
        with Locations((-25.0825, -17.78)):
            Rectangle(F0_W_7, F0_H_2)
        with Locations((25.0825, -17.78)):
            Rectangle(F0_W_7, F0_H_2)
    extrude(amount=F5_DEPTH)

    # F0 (on Top) → F6 (join)
    with BuildSketch(Plane.XY):
        with Locations((0, -14.9225)):
            Rectangle(F0_W_6, F0_H_6)
    extrude(amount=F6_DEPTH)


solid = f1.part
